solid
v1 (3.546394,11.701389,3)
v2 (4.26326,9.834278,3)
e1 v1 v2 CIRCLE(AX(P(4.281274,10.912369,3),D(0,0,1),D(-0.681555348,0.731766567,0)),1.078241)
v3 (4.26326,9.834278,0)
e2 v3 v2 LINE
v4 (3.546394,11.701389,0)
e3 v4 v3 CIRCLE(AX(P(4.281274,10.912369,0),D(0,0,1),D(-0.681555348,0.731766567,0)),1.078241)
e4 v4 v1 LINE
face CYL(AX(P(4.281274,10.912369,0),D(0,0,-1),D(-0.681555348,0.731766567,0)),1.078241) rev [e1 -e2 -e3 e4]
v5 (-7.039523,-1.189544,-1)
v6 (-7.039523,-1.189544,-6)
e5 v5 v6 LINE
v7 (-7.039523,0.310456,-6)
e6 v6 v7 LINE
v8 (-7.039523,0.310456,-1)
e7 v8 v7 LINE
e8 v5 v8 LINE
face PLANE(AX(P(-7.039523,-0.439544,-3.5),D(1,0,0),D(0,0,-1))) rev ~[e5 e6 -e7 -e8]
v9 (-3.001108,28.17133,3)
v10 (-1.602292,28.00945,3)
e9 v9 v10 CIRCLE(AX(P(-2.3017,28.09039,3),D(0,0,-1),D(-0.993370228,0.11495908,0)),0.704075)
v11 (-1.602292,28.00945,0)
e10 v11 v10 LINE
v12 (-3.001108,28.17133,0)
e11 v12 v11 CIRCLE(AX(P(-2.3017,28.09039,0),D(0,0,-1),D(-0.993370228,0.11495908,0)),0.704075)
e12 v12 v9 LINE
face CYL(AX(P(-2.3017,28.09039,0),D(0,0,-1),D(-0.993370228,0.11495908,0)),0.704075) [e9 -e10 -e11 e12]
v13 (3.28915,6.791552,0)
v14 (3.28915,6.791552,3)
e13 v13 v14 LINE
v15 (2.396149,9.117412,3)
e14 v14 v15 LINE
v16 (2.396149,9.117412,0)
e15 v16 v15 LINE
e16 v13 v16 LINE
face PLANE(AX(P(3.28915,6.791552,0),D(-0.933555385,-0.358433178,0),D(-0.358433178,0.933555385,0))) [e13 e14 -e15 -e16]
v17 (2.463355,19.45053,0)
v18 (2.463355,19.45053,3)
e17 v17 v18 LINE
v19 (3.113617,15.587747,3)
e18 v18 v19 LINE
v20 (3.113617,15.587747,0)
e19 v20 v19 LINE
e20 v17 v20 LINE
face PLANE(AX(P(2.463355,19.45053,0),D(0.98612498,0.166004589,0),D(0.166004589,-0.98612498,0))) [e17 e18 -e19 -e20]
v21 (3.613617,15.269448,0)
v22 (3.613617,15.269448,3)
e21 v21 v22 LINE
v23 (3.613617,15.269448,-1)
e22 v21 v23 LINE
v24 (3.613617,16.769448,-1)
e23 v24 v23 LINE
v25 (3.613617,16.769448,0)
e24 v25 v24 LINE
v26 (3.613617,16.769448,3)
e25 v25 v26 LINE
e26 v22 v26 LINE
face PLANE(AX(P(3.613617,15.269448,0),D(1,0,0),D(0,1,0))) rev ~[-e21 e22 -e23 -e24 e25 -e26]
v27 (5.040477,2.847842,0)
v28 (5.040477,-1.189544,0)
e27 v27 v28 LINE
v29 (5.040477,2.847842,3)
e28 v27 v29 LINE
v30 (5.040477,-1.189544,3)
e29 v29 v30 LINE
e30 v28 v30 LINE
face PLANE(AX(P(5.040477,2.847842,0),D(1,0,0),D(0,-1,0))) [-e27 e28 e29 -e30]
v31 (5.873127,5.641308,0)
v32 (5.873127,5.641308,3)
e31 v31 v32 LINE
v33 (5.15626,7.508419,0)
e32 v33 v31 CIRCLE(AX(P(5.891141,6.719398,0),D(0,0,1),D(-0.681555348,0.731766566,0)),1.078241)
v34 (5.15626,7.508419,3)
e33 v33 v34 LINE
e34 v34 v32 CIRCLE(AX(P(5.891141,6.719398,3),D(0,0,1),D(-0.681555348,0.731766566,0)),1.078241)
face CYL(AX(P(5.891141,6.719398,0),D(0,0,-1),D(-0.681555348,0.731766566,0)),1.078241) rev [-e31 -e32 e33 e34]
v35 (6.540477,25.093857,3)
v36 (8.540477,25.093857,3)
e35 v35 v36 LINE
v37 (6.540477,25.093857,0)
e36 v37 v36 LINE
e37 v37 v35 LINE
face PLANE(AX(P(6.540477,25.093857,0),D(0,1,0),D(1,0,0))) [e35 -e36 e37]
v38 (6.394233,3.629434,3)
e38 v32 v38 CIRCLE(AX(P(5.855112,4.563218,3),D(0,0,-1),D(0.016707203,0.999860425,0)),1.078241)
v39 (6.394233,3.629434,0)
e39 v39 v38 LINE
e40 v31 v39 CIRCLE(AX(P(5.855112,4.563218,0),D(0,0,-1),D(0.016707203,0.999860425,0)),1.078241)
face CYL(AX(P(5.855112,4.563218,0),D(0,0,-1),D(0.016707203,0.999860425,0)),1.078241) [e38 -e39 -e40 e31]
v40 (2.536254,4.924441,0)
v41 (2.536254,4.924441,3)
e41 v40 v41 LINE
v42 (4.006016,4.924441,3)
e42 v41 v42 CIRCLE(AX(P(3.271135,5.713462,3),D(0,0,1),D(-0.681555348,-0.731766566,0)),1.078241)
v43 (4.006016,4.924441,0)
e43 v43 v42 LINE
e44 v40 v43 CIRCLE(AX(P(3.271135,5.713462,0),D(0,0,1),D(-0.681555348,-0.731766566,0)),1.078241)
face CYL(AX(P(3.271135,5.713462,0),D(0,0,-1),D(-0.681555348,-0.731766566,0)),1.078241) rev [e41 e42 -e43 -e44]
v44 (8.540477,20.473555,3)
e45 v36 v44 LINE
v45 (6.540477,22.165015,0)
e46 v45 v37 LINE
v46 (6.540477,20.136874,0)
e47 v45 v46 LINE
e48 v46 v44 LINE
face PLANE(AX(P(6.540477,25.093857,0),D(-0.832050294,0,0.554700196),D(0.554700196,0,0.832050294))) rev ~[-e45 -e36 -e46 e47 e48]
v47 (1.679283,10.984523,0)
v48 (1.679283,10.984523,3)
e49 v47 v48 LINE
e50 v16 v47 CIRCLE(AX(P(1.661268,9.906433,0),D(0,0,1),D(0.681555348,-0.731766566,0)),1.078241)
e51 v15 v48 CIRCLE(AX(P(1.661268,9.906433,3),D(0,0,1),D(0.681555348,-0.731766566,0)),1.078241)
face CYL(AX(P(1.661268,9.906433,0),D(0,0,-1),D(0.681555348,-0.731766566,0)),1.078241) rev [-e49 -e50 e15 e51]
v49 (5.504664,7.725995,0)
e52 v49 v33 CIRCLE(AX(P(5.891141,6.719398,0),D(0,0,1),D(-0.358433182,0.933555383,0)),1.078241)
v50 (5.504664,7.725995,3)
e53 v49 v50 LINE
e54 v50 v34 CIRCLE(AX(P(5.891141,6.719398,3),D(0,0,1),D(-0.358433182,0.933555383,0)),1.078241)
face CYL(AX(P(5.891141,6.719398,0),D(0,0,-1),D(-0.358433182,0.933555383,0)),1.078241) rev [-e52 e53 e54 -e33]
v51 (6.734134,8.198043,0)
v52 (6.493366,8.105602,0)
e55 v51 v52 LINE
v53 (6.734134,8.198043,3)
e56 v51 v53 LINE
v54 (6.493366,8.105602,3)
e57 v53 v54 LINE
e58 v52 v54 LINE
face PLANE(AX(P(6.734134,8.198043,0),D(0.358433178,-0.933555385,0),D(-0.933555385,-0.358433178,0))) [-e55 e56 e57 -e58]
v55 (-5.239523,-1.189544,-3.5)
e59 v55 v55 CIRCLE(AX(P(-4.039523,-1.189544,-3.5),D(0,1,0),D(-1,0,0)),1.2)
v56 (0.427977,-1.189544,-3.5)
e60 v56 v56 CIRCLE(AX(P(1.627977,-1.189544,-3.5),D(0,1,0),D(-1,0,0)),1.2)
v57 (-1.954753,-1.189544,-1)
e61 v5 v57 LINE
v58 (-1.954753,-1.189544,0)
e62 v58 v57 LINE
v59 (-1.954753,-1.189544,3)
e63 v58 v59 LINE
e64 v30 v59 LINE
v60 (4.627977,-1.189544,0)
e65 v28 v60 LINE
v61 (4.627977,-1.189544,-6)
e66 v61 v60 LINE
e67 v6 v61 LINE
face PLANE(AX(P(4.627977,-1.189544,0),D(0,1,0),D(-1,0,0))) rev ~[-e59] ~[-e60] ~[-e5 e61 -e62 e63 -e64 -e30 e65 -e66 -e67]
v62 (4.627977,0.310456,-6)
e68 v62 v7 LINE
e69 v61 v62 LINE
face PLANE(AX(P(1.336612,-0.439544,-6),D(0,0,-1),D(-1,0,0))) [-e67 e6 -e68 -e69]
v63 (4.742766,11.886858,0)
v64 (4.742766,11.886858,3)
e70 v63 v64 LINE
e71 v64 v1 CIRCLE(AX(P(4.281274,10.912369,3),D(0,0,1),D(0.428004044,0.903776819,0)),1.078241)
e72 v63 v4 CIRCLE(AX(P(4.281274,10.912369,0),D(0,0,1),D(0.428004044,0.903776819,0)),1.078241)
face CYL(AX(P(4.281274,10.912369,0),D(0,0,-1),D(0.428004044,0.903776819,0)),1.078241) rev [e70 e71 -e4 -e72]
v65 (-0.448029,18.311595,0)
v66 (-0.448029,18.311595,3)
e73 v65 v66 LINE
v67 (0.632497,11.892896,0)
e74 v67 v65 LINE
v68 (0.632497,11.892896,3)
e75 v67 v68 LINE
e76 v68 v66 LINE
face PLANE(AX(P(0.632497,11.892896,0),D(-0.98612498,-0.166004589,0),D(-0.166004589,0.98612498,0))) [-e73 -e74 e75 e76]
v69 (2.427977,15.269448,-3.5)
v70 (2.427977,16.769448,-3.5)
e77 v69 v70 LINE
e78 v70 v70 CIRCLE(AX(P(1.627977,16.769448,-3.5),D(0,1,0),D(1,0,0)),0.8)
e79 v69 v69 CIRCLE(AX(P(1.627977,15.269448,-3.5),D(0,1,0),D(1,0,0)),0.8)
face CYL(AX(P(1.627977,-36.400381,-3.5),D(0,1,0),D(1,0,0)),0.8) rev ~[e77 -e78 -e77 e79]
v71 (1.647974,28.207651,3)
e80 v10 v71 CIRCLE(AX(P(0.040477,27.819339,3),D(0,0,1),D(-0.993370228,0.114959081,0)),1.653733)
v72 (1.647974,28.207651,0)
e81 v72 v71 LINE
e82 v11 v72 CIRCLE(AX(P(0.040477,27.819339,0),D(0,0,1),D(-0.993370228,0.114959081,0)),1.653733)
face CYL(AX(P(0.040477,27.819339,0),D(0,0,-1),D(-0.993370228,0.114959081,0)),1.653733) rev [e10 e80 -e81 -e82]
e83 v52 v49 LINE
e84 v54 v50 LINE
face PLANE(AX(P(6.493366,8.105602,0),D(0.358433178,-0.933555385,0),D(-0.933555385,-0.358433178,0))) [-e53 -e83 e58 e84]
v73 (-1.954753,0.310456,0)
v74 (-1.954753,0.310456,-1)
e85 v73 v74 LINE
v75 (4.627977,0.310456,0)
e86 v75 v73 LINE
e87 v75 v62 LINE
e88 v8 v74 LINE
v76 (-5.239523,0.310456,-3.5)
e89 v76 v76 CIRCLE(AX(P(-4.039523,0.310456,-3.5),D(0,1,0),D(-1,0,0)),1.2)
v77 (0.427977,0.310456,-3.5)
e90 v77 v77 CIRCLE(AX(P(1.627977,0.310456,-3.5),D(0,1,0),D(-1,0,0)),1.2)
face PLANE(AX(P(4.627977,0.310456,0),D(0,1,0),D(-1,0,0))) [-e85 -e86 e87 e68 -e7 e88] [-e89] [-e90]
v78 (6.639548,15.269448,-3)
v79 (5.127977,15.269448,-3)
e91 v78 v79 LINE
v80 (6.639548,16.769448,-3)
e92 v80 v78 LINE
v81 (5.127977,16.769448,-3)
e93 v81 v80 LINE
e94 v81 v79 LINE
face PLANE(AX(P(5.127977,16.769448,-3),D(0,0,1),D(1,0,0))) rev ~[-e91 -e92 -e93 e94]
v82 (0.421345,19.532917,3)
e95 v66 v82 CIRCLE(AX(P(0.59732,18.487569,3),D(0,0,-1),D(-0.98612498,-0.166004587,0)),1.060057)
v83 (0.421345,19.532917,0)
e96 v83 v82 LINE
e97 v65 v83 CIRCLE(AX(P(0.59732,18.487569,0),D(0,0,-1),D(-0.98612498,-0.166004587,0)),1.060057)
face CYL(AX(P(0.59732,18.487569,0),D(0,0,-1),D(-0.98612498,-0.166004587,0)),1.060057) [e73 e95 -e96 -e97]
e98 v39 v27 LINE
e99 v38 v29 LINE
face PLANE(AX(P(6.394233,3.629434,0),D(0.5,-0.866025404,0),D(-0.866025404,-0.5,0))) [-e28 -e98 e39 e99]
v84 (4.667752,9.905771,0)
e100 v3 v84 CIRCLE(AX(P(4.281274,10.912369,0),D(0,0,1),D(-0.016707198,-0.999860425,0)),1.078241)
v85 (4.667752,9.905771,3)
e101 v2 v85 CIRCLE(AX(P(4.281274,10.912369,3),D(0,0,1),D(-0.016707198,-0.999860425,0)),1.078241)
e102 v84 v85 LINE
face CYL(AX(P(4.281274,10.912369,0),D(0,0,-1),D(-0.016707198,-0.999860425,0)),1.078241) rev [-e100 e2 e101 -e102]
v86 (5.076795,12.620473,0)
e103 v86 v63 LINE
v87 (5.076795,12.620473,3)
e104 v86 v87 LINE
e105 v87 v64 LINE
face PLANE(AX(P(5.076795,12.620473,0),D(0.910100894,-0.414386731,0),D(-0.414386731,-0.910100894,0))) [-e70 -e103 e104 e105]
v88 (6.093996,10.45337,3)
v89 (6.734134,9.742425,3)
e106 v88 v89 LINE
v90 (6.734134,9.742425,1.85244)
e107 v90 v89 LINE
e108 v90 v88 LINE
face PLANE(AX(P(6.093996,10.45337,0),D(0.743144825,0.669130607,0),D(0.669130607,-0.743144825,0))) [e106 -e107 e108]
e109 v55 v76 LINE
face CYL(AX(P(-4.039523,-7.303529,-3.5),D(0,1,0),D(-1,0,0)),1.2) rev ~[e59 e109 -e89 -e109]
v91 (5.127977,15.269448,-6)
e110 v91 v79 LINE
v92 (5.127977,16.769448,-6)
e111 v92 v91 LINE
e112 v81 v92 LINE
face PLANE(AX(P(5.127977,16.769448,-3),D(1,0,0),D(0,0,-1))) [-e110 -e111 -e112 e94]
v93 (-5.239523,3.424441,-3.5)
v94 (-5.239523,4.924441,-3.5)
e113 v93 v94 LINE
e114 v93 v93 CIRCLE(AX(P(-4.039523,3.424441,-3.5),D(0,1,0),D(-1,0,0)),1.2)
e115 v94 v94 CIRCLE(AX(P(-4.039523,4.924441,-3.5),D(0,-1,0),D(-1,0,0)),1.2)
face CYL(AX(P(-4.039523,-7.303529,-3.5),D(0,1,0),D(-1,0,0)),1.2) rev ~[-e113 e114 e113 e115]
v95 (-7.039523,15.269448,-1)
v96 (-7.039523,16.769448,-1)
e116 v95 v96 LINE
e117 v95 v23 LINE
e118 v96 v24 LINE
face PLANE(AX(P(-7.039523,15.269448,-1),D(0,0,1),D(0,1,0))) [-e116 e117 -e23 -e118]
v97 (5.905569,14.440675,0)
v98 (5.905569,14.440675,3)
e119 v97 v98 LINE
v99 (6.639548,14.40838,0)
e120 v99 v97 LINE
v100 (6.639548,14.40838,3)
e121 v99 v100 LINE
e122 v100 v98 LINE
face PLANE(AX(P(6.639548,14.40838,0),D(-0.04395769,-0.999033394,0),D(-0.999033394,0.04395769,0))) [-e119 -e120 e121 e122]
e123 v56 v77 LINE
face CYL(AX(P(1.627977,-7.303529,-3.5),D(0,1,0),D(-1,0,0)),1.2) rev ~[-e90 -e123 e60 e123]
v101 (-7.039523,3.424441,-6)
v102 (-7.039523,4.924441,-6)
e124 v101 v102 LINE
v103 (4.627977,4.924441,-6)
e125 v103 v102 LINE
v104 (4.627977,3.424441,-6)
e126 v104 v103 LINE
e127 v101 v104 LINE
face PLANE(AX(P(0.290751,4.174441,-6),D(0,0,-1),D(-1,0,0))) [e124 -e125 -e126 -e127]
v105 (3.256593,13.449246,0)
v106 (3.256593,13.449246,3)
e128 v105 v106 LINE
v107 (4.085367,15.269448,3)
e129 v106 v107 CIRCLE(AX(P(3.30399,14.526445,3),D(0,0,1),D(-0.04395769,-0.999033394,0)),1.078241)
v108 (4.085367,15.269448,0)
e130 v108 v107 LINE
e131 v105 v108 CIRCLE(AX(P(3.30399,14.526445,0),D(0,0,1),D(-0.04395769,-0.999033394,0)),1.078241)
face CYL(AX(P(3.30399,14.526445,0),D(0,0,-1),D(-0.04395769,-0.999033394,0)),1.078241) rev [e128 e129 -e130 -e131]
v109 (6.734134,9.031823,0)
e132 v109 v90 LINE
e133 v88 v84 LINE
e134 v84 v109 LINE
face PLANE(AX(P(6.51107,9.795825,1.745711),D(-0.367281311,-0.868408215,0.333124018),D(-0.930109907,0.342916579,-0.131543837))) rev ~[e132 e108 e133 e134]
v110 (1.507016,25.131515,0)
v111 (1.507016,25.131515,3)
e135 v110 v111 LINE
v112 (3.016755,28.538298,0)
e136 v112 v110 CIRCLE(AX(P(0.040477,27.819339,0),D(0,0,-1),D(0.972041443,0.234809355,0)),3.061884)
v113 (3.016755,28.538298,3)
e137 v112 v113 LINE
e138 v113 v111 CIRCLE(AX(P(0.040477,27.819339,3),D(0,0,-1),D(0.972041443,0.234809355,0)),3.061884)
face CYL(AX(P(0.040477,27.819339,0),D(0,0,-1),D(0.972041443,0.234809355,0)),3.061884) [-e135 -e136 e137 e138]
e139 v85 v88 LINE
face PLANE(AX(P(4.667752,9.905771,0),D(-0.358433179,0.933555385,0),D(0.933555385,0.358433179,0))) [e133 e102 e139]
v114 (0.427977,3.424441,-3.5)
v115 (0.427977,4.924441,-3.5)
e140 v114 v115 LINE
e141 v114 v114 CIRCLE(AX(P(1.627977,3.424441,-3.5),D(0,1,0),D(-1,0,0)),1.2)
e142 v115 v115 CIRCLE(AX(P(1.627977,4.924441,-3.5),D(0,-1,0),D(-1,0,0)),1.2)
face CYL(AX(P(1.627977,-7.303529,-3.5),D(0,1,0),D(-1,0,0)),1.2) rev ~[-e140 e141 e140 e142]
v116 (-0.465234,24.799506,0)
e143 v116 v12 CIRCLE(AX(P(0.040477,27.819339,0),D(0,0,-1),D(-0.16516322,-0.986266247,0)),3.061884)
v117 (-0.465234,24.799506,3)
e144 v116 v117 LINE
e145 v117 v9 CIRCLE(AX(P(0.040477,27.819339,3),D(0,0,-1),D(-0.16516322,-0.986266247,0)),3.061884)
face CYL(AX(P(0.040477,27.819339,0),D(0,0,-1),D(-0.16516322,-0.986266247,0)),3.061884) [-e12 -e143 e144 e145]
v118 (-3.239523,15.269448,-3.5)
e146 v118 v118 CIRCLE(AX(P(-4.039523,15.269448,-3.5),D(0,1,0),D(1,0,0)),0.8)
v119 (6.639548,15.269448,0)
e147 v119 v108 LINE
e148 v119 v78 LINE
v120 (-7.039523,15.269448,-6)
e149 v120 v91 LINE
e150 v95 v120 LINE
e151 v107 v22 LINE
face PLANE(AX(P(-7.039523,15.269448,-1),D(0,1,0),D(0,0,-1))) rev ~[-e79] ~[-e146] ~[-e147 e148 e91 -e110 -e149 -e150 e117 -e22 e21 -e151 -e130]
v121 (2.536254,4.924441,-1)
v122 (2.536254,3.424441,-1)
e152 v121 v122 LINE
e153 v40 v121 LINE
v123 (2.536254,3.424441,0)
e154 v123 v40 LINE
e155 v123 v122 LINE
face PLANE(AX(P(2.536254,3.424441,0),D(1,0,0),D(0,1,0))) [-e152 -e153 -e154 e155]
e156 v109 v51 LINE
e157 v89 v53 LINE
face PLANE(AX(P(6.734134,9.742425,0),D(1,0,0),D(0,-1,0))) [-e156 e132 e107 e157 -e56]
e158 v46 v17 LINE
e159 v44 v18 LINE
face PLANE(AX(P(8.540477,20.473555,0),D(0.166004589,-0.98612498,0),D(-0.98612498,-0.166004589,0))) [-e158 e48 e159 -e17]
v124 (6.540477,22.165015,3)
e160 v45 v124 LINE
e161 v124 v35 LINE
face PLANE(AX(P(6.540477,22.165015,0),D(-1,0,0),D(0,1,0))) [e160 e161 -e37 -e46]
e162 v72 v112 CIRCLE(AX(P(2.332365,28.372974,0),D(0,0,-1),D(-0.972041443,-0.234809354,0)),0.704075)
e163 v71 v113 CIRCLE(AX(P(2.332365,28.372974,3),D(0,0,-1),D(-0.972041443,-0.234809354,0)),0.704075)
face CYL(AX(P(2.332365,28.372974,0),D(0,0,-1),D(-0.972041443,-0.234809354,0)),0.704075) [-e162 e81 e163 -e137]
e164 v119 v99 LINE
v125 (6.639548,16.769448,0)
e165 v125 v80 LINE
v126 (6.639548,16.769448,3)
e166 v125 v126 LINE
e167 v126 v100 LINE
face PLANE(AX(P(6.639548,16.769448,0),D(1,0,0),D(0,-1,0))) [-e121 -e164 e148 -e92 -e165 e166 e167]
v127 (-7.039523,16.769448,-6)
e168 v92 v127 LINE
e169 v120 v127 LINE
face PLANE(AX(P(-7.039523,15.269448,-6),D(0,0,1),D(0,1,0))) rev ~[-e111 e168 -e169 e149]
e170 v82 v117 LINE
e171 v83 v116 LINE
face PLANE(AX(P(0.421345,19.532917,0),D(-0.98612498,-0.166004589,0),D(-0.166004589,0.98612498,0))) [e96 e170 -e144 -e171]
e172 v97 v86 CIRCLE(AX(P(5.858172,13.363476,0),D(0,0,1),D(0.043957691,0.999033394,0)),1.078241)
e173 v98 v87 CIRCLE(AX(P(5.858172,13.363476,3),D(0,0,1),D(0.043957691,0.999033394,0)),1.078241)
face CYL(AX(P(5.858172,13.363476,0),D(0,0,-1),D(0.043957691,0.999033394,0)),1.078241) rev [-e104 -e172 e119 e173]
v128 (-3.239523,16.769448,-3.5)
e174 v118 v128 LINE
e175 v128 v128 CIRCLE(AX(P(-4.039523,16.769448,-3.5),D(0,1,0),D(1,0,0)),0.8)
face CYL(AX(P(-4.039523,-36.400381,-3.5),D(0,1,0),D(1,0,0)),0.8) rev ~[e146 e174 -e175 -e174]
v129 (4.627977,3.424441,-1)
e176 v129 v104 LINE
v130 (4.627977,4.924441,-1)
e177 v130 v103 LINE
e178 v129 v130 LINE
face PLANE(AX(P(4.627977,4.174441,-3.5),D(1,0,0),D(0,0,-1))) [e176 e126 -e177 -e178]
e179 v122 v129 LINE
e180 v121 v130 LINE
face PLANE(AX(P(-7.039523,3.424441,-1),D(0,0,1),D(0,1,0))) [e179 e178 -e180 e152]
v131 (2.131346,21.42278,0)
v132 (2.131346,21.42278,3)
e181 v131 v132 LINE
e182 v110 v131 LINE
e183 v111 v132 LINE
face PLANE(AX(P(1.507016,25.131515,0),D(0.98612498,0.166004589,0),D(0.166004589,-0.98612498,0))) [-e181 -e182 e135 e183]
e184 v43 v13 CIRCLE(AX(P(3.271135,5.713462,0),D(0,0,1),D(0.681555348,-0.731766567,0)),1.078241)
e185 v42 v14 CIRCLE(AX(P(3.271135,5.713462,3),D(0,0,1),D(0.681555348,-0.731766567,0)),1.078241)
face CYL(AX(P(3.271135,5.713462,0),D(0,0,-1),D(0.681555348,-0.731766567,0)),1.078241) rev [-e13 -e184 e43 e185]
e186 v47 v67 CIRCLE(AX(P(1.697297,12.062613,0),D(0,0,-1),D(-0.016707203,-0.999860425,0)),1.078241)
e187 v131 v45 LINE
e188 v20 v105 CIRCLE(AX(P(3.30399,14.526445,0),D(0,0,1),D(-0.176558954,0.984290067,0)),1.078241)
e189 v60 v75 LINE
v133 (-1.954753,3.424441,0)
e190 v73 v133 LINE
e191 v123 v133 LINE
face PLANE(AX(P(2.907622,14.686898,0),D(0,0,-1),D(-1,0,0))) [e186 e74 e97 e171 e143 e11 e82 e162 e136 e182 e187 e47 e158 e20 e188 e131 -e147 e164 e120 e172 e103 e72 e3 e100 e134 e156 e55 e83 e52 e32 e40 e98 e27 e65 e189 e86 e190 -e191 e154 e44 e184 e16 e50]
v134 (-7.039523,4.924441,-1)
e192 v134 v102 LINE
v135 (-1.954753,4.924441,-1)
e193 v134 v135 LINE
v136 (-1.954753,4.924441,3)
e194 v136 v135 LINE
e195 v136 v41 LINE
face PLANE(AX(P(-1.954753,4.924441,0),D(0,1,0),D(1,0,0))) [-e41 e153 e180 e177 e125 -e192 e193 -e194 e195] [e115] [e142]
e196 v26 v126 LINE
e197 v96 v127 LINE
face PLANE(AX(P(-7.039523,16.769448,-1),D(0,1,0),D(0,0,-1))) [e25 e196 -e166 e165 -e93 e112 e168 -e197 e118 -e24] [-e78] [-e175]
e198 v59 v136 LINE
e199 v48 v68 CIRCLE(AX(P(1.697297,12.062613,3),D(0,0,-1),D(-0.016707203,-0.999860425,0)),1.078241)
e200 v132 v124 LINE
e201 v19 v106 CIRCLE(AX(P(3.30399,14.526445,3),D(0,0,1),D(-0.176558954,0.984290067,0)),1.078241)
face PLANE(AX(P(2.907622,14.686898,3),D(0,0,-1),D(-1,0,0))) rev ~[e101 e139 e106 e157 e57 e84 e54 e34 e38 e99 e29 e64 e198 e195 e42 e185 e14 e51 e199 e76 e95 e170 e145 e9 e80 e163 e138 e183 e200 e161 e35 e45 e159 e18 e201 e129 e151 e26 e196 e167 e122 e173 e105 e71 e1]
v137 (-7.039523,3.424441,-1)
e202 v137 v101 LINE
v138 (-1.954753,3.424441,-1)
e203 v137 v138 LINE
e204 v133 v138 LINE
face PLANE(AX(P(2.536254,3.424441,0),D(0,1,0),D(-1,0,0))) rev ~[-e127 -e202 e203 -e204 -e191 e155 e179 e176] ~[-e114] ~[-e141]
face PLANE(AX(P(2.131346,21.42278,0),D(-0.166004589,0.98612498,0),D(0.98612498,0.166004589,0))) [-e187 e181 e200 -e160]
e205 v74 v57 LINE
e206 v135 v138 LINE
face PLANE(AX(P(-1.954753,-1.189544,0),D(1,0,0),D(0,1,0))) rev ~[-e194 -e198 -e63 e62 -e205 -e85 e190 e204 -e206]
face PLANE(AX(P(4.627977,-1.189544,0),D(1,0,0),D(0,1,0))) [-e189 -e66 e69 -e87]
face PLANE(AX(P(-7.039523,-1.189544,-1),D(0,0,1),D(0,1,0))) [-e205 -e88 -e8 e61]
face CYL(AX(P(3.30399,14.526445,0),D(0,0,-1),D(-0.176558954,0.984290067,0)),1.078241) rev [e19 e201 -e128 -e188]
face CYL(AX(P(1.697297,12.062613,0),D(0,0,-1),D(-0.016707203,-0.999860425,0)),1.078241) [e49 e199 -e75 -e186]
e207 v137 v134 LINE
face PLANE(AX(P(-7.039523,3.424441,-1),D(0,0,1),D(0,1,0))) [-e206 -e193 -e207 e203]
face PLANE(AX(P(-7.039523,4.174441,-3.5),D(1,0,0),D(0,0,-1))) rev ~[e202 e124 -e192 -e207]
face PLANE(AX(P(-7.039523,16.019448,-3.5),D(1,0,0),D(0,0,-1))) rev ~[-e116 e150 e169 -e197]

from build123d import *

# Parameters (mm, degrees)
BOSS_SWITCHMAIN_DEPTH           = 3
SKETCH1_W                       = 6.582729781
SKETCH1_H                       = 1.5
SKETCH1_W_2                     = 3.025930853
SKETCH1_W_3                     = 4.49100728
BOSS_FLANGE_WIDTH_DEPTH         = 6
SKETCH2_W                       = 5
SKETCH2_H                       = 1.5
BOSS_FLANGE_HEIGHT_DEPTH        = 11.6675
TAP_DRILL_FOR_M2X0_4_TAP1_D     = 1.6
M2_CLEARANCE_HOLE2_D            = 2.4
M2_CLEARANCE_HOLE2_DEPTH        = 6.113984988
M2_CLEARANCE_HOLE2_TIP          = 0.721032743
CUT_FLANGE_RAMP_CLEARANCE_REACH = 19.959
SKETCH10_W                      = 1.51157113
SKETCH10_H                      = 3
CUT_EXTRUDE1_REACH              = 28.283
CUT_EXTRUDE2_REACH              = 22.07


with BuildPart() as part:
    # Sketch-SwitchBossUp → Boss-SwitchMain (new body)
    with BuildSketch(Plane.XY):
        with BuildLine():
            Line((6.540476927, 22.165014537), (6.540476927, 25.093856925))
            Line((6.540476927, 25.093856925), (8.540476927, 25.093856925))
            Line((8.540476927, 25.093856925), (8.540476927, 20.473554675))
            Line((8.540476927, 20.473554675), (2.463355023, 19.450530066))
            Line((2.463355023, 19.450530066), (3.113617204, 15.587746603))
            ThreePointArc((3.113617204, 15.587746603), (2.228151344, 14.454516392), (3.25659329, 13.449246446))
            ThreePointArc((3.25659329, 13.449246446), (4.285298124, 14.079636296), (4.085366752, 15.269448233))
            Line((4.085366752, 15.269448233), (3.613617204, 15.269448233))
            Line((3.613617204, 15.269448233), (3.613617204, 16.769448233))
            Line((3.613617204, 16.769448233), (6.639548057, 16.769448233))
            Line((6.639548057, 16.769448233), (6.639548057, 14.40837951))
            Line((6.639548057, 14.40837951), (5.90556854, 14.440674771))
            ThreePointArc((5.90556854, 14.440674771), (4.876863705, 13.810284921), (5.076795077, 12.620472983))
            Line((5.076795077, 12.620472983), (4.742765687, 11.886857682))
            ThreePointArc((4.742765687, 11.886857682), (4.116092357, 11.977881728), (3.546393548, 11.701389219))
            ThreePointArc((3.546393548, 11.701389219), (3.274676841, 10.525891439), (4.263259905, 9.834278449))
            ThreePointArc((4.263259905, 9.834278449), (4.46894162, 9.850585257), (4.667751547, 9.905771245))
            Line((4.667751547, 9.905771245), (6.093996382, 10.453369682))
            Line((6.093996382, 10.453369682), (6.73413388, 9.742424966))
            Line((6.73413388, 9.742424966), (6.73413388, 8.198043394))
            Line((6.73413388, 8.198043394), (6.493366278, 8.105602069))
            Line((6.493366278, 8.105602069), (5.504663813, 7.725995489))
            ThreePointArc((5.504663813, 7.725995489), (5.320005472, 7.633951058), (5.156260325, 7.508418563))
            ThreePointArc((5.156260325, 7.508418563), (4.884543619, 6.332920783), (5.873126682, 5.641307794))
            ThreePointArc((5.873126682, 5.641307794), (6.898907846, 4.833576465), (6.394232666, 3.629433676))
            Line((6.394232666, 3.629433676), (5.040476927, 2.847842436))
            Line((5.040476927, 2.847842436), (5.040476927, -1.189543551))
            Line((5.040476927, -1.189543551), (-1.954752854, -1.189543551))
            Line((-1.954752854, -1.189543551), (-1.954752854, 4.924441437))
            Line((-1.954752854, 4.924441437), (2.536254426, 4.924441437))
            ThreePointArc((2.536254426, 4.924441437), (3.271135169, 4.635221221), (4.006015912, 4.924441437))
            ThreePointArc((4.006015912, 4.924441437), (4.277732619, 6.099939217), (3.289149555, 6.791552207))
            Line((3.289149555, 6.791552207), (2.396149135, 9.117412093))
            ThreePointArc((2.396149135, 9.117412093), (2.667865841, 10.292909873), (1.679282778, 10.984522862))
            ThreePointArc((1.679282778, 10.984522862), (0.990609652, 11.24824473), (0.632497087, 11.892896022))
            Line((0.632497087, 11.892896022), (-0.448028681, 18.3115948))
            ThreePointArc((-0.448028681, 18.3115948), (-0.266285833, 19.102309392), (0.421345416, 19.532917442))
            Line((0.421345416, 19.532917442), (-0.465233701, 24.799505683))
            ThreePointArc((-0.465233701, 24.799505683), (-2.406587703, 25.978955839), (-3.001107523, 28.171329943))
            ThreePointArc((-3.001107523, 28.171329943), (-2.220760115, 28.789797628), (-1.602292431, 28.009450221))
            ThreePointArc((-1.602292431, 28.009450221), (0.141134159, 26.168671513), (1.647974165, 28.207650602))
            ThreePointArc((1.647974165, 28.207650602), (2.167041147, 29.057364566), (3.016755111, 28.538297585))
            ThreePointArc((3.016755111, 28.538297585), (2.839798095, 26.578800421), (1.507016259, 25.131514861))
            Line((1.507016259, 25.131514861), (2.131345845, 21.422780026))
            Line((2.131345845, 21.422780026), (6.540476927, 22.165014537))
        make_face()
    extrude(amount=BOSS_SWITCHMAIN_DEPTH)

    # Sketch1 → Boss-Flange Width (add)
    with BuildSketch(Plane(origin=(0, 0, 0), x_dir=(-1, 0, 0), z_dir=(0, 0, -1))):
        with Locations((-1.336612037, -0.439543551)):
            Rectangle(SKETCH1_W, SKETCH1_H)
        with Locations((-5.126582631, 16.019448233)):
            Rectangle(SKETCH1_W_2, SKETCH1_H)
        with Locations((-0.290750786, 4.174441437)):
            Rectangle(SKETCH1_W_3, SKETCH1_H)
    extrude(amount=BOSS_FLANGE_WIDTH_DEPTH)

    # Sketch2 → Boss-Flange Height (add)
    with BuildSketch(Plane(origin=(-7.039523073, 0, 0), x_dir=(0, 0, -1), z_dir=(1, 0, 0))):
        with Locations((3.5, 16.019448233)):
            Rectangle(SKETCH2_W, SKETCH2_H)
        with Locations((3.5, 4.174441437)):
            Rectangle(SKETCH2_W, SKETCH2_H)
        with Locations((3.5, -0.439543551)):
            Rectangle(SKETCH2_W, SKETCH2_H)
    extrude(amount=BOSS_FLANGE_HEIGHT_DEPTH)

    # Tap Drill for M2x0.4 Tap1 (through all)
    with Locations(Plane(origin=(0, -1.189543551, 0), x_dir=(-1, 0, 0), z_dir=(0, -1, 0))):
        with Locations((4.039523073, 3.5), (-1.627976927, 3.5)):
            Hole(TAP_DRILL_FOR_M2X0_4_TAP1_D / 2)

    # M2 Clearance Hole2
    with Locations(Plane.XZ.offset(1.189543551)):
        with Locations((-4.039523073, -3.5), (1.627976927, -3.5)):
            Hole(M2_CLEARANCE_HOLE2_D / 2, depth=M2_CLEARANCE_HOLE2_DEPTH)
            with Locations((0, 0, -(M2_CLEARANCE_HOLE2_DEPTH + M2_CLEARANCE_HOLE2_TIP / 2))):  # 118° drill point
                Cone(0, M2_CLEARANCE_HOLE2_D / 2, M2_CLEARANCE_HOLE2_TIP, mode=Mode.SUBTRACT)

    # Sketch10 → Cut-Flange Ramp Clearance (cut, up to next)
    with BuildSketch(Plane(origin=(0, 16.769448233, 0), x_dir=(1, 0, 0), z_dir=(0, 1, 0)), mode=Mode.PRIVATE) as cut_flange_ramp_clearance_sk1:
        with Locations((5.883762492, 4.5)):
            Rectangle(SKETCH10_W, SKETCH10_H)
    cut_flange_ramp_clearance_tool1 = extrude(cut_flange_ramp_clearance_sk1.sketch, amount=-CUT_FLANGE_RAMP_CLEARANCE_REACH, mode=Mode.PRIVATE) & part.part
    add(cut_flange_ramp_clearance_tool1.solids().sort_by_distance((5.883762, 16.769448, -4.5))[0], mode=Mode.SUBTRACT)

    # Sketch12 → Cut-Extrude1 (cut, up to next)
    with BuildSketch(Plane(origin=(0, 25.093856925, 0), x_dir=(1, 0, 0), z_dir=(0, 1, 0)), mode=Mode.PRIVATE) as cut_extrude1_sk1:
        Polygon((6.540476927, 0), (8.540476927, -3), (8.540476927, 0), align=None)
    cut_extrude1_tool1 = extrude(cut_extrude1_sk1.sketch, amount=-CUT_EXTRUDE1_REACH, mode=Mode.PRIVATE) & part.part
    add(cut_extrude1_tool1.solids().sort_by_distance((7.87381, 25.093857, 1))[0], mode=Mode.SUBTRACT)

    # Sketch14 → Cut-Extrude2 (cut, up to next)
    with BuildSketch(Plane(origin=(3.789105765, 8.959047136, -3.436717579), x_dir=(-0.930109907, 0.342916579, -0.131543837), z_dir=(-0.367281311, -0.868408215, 0.333124018)), mode=Mode.PRIVATE) as cut_extrude2_sk1:
        Polygon((-0.94466877, -3.547806869), (-4.277307049, -3.078270724), (-4.824829049, -6.964431121), (-1.431952972, -6.964431121), align=None)
    cut_extrude2_tool1 = extrude(cut_extrude2_sk1.sketch, amount=-CUT_EXTRUDE2_REACH, mode=Mode.PRIVATE) & part.part
    add(cut_extrude2_tool1.solids().sort_by_distance((6.491643, 9.802029, 1.740466))[0], mode=Mode.SUBTRACT)


solid = part.part
